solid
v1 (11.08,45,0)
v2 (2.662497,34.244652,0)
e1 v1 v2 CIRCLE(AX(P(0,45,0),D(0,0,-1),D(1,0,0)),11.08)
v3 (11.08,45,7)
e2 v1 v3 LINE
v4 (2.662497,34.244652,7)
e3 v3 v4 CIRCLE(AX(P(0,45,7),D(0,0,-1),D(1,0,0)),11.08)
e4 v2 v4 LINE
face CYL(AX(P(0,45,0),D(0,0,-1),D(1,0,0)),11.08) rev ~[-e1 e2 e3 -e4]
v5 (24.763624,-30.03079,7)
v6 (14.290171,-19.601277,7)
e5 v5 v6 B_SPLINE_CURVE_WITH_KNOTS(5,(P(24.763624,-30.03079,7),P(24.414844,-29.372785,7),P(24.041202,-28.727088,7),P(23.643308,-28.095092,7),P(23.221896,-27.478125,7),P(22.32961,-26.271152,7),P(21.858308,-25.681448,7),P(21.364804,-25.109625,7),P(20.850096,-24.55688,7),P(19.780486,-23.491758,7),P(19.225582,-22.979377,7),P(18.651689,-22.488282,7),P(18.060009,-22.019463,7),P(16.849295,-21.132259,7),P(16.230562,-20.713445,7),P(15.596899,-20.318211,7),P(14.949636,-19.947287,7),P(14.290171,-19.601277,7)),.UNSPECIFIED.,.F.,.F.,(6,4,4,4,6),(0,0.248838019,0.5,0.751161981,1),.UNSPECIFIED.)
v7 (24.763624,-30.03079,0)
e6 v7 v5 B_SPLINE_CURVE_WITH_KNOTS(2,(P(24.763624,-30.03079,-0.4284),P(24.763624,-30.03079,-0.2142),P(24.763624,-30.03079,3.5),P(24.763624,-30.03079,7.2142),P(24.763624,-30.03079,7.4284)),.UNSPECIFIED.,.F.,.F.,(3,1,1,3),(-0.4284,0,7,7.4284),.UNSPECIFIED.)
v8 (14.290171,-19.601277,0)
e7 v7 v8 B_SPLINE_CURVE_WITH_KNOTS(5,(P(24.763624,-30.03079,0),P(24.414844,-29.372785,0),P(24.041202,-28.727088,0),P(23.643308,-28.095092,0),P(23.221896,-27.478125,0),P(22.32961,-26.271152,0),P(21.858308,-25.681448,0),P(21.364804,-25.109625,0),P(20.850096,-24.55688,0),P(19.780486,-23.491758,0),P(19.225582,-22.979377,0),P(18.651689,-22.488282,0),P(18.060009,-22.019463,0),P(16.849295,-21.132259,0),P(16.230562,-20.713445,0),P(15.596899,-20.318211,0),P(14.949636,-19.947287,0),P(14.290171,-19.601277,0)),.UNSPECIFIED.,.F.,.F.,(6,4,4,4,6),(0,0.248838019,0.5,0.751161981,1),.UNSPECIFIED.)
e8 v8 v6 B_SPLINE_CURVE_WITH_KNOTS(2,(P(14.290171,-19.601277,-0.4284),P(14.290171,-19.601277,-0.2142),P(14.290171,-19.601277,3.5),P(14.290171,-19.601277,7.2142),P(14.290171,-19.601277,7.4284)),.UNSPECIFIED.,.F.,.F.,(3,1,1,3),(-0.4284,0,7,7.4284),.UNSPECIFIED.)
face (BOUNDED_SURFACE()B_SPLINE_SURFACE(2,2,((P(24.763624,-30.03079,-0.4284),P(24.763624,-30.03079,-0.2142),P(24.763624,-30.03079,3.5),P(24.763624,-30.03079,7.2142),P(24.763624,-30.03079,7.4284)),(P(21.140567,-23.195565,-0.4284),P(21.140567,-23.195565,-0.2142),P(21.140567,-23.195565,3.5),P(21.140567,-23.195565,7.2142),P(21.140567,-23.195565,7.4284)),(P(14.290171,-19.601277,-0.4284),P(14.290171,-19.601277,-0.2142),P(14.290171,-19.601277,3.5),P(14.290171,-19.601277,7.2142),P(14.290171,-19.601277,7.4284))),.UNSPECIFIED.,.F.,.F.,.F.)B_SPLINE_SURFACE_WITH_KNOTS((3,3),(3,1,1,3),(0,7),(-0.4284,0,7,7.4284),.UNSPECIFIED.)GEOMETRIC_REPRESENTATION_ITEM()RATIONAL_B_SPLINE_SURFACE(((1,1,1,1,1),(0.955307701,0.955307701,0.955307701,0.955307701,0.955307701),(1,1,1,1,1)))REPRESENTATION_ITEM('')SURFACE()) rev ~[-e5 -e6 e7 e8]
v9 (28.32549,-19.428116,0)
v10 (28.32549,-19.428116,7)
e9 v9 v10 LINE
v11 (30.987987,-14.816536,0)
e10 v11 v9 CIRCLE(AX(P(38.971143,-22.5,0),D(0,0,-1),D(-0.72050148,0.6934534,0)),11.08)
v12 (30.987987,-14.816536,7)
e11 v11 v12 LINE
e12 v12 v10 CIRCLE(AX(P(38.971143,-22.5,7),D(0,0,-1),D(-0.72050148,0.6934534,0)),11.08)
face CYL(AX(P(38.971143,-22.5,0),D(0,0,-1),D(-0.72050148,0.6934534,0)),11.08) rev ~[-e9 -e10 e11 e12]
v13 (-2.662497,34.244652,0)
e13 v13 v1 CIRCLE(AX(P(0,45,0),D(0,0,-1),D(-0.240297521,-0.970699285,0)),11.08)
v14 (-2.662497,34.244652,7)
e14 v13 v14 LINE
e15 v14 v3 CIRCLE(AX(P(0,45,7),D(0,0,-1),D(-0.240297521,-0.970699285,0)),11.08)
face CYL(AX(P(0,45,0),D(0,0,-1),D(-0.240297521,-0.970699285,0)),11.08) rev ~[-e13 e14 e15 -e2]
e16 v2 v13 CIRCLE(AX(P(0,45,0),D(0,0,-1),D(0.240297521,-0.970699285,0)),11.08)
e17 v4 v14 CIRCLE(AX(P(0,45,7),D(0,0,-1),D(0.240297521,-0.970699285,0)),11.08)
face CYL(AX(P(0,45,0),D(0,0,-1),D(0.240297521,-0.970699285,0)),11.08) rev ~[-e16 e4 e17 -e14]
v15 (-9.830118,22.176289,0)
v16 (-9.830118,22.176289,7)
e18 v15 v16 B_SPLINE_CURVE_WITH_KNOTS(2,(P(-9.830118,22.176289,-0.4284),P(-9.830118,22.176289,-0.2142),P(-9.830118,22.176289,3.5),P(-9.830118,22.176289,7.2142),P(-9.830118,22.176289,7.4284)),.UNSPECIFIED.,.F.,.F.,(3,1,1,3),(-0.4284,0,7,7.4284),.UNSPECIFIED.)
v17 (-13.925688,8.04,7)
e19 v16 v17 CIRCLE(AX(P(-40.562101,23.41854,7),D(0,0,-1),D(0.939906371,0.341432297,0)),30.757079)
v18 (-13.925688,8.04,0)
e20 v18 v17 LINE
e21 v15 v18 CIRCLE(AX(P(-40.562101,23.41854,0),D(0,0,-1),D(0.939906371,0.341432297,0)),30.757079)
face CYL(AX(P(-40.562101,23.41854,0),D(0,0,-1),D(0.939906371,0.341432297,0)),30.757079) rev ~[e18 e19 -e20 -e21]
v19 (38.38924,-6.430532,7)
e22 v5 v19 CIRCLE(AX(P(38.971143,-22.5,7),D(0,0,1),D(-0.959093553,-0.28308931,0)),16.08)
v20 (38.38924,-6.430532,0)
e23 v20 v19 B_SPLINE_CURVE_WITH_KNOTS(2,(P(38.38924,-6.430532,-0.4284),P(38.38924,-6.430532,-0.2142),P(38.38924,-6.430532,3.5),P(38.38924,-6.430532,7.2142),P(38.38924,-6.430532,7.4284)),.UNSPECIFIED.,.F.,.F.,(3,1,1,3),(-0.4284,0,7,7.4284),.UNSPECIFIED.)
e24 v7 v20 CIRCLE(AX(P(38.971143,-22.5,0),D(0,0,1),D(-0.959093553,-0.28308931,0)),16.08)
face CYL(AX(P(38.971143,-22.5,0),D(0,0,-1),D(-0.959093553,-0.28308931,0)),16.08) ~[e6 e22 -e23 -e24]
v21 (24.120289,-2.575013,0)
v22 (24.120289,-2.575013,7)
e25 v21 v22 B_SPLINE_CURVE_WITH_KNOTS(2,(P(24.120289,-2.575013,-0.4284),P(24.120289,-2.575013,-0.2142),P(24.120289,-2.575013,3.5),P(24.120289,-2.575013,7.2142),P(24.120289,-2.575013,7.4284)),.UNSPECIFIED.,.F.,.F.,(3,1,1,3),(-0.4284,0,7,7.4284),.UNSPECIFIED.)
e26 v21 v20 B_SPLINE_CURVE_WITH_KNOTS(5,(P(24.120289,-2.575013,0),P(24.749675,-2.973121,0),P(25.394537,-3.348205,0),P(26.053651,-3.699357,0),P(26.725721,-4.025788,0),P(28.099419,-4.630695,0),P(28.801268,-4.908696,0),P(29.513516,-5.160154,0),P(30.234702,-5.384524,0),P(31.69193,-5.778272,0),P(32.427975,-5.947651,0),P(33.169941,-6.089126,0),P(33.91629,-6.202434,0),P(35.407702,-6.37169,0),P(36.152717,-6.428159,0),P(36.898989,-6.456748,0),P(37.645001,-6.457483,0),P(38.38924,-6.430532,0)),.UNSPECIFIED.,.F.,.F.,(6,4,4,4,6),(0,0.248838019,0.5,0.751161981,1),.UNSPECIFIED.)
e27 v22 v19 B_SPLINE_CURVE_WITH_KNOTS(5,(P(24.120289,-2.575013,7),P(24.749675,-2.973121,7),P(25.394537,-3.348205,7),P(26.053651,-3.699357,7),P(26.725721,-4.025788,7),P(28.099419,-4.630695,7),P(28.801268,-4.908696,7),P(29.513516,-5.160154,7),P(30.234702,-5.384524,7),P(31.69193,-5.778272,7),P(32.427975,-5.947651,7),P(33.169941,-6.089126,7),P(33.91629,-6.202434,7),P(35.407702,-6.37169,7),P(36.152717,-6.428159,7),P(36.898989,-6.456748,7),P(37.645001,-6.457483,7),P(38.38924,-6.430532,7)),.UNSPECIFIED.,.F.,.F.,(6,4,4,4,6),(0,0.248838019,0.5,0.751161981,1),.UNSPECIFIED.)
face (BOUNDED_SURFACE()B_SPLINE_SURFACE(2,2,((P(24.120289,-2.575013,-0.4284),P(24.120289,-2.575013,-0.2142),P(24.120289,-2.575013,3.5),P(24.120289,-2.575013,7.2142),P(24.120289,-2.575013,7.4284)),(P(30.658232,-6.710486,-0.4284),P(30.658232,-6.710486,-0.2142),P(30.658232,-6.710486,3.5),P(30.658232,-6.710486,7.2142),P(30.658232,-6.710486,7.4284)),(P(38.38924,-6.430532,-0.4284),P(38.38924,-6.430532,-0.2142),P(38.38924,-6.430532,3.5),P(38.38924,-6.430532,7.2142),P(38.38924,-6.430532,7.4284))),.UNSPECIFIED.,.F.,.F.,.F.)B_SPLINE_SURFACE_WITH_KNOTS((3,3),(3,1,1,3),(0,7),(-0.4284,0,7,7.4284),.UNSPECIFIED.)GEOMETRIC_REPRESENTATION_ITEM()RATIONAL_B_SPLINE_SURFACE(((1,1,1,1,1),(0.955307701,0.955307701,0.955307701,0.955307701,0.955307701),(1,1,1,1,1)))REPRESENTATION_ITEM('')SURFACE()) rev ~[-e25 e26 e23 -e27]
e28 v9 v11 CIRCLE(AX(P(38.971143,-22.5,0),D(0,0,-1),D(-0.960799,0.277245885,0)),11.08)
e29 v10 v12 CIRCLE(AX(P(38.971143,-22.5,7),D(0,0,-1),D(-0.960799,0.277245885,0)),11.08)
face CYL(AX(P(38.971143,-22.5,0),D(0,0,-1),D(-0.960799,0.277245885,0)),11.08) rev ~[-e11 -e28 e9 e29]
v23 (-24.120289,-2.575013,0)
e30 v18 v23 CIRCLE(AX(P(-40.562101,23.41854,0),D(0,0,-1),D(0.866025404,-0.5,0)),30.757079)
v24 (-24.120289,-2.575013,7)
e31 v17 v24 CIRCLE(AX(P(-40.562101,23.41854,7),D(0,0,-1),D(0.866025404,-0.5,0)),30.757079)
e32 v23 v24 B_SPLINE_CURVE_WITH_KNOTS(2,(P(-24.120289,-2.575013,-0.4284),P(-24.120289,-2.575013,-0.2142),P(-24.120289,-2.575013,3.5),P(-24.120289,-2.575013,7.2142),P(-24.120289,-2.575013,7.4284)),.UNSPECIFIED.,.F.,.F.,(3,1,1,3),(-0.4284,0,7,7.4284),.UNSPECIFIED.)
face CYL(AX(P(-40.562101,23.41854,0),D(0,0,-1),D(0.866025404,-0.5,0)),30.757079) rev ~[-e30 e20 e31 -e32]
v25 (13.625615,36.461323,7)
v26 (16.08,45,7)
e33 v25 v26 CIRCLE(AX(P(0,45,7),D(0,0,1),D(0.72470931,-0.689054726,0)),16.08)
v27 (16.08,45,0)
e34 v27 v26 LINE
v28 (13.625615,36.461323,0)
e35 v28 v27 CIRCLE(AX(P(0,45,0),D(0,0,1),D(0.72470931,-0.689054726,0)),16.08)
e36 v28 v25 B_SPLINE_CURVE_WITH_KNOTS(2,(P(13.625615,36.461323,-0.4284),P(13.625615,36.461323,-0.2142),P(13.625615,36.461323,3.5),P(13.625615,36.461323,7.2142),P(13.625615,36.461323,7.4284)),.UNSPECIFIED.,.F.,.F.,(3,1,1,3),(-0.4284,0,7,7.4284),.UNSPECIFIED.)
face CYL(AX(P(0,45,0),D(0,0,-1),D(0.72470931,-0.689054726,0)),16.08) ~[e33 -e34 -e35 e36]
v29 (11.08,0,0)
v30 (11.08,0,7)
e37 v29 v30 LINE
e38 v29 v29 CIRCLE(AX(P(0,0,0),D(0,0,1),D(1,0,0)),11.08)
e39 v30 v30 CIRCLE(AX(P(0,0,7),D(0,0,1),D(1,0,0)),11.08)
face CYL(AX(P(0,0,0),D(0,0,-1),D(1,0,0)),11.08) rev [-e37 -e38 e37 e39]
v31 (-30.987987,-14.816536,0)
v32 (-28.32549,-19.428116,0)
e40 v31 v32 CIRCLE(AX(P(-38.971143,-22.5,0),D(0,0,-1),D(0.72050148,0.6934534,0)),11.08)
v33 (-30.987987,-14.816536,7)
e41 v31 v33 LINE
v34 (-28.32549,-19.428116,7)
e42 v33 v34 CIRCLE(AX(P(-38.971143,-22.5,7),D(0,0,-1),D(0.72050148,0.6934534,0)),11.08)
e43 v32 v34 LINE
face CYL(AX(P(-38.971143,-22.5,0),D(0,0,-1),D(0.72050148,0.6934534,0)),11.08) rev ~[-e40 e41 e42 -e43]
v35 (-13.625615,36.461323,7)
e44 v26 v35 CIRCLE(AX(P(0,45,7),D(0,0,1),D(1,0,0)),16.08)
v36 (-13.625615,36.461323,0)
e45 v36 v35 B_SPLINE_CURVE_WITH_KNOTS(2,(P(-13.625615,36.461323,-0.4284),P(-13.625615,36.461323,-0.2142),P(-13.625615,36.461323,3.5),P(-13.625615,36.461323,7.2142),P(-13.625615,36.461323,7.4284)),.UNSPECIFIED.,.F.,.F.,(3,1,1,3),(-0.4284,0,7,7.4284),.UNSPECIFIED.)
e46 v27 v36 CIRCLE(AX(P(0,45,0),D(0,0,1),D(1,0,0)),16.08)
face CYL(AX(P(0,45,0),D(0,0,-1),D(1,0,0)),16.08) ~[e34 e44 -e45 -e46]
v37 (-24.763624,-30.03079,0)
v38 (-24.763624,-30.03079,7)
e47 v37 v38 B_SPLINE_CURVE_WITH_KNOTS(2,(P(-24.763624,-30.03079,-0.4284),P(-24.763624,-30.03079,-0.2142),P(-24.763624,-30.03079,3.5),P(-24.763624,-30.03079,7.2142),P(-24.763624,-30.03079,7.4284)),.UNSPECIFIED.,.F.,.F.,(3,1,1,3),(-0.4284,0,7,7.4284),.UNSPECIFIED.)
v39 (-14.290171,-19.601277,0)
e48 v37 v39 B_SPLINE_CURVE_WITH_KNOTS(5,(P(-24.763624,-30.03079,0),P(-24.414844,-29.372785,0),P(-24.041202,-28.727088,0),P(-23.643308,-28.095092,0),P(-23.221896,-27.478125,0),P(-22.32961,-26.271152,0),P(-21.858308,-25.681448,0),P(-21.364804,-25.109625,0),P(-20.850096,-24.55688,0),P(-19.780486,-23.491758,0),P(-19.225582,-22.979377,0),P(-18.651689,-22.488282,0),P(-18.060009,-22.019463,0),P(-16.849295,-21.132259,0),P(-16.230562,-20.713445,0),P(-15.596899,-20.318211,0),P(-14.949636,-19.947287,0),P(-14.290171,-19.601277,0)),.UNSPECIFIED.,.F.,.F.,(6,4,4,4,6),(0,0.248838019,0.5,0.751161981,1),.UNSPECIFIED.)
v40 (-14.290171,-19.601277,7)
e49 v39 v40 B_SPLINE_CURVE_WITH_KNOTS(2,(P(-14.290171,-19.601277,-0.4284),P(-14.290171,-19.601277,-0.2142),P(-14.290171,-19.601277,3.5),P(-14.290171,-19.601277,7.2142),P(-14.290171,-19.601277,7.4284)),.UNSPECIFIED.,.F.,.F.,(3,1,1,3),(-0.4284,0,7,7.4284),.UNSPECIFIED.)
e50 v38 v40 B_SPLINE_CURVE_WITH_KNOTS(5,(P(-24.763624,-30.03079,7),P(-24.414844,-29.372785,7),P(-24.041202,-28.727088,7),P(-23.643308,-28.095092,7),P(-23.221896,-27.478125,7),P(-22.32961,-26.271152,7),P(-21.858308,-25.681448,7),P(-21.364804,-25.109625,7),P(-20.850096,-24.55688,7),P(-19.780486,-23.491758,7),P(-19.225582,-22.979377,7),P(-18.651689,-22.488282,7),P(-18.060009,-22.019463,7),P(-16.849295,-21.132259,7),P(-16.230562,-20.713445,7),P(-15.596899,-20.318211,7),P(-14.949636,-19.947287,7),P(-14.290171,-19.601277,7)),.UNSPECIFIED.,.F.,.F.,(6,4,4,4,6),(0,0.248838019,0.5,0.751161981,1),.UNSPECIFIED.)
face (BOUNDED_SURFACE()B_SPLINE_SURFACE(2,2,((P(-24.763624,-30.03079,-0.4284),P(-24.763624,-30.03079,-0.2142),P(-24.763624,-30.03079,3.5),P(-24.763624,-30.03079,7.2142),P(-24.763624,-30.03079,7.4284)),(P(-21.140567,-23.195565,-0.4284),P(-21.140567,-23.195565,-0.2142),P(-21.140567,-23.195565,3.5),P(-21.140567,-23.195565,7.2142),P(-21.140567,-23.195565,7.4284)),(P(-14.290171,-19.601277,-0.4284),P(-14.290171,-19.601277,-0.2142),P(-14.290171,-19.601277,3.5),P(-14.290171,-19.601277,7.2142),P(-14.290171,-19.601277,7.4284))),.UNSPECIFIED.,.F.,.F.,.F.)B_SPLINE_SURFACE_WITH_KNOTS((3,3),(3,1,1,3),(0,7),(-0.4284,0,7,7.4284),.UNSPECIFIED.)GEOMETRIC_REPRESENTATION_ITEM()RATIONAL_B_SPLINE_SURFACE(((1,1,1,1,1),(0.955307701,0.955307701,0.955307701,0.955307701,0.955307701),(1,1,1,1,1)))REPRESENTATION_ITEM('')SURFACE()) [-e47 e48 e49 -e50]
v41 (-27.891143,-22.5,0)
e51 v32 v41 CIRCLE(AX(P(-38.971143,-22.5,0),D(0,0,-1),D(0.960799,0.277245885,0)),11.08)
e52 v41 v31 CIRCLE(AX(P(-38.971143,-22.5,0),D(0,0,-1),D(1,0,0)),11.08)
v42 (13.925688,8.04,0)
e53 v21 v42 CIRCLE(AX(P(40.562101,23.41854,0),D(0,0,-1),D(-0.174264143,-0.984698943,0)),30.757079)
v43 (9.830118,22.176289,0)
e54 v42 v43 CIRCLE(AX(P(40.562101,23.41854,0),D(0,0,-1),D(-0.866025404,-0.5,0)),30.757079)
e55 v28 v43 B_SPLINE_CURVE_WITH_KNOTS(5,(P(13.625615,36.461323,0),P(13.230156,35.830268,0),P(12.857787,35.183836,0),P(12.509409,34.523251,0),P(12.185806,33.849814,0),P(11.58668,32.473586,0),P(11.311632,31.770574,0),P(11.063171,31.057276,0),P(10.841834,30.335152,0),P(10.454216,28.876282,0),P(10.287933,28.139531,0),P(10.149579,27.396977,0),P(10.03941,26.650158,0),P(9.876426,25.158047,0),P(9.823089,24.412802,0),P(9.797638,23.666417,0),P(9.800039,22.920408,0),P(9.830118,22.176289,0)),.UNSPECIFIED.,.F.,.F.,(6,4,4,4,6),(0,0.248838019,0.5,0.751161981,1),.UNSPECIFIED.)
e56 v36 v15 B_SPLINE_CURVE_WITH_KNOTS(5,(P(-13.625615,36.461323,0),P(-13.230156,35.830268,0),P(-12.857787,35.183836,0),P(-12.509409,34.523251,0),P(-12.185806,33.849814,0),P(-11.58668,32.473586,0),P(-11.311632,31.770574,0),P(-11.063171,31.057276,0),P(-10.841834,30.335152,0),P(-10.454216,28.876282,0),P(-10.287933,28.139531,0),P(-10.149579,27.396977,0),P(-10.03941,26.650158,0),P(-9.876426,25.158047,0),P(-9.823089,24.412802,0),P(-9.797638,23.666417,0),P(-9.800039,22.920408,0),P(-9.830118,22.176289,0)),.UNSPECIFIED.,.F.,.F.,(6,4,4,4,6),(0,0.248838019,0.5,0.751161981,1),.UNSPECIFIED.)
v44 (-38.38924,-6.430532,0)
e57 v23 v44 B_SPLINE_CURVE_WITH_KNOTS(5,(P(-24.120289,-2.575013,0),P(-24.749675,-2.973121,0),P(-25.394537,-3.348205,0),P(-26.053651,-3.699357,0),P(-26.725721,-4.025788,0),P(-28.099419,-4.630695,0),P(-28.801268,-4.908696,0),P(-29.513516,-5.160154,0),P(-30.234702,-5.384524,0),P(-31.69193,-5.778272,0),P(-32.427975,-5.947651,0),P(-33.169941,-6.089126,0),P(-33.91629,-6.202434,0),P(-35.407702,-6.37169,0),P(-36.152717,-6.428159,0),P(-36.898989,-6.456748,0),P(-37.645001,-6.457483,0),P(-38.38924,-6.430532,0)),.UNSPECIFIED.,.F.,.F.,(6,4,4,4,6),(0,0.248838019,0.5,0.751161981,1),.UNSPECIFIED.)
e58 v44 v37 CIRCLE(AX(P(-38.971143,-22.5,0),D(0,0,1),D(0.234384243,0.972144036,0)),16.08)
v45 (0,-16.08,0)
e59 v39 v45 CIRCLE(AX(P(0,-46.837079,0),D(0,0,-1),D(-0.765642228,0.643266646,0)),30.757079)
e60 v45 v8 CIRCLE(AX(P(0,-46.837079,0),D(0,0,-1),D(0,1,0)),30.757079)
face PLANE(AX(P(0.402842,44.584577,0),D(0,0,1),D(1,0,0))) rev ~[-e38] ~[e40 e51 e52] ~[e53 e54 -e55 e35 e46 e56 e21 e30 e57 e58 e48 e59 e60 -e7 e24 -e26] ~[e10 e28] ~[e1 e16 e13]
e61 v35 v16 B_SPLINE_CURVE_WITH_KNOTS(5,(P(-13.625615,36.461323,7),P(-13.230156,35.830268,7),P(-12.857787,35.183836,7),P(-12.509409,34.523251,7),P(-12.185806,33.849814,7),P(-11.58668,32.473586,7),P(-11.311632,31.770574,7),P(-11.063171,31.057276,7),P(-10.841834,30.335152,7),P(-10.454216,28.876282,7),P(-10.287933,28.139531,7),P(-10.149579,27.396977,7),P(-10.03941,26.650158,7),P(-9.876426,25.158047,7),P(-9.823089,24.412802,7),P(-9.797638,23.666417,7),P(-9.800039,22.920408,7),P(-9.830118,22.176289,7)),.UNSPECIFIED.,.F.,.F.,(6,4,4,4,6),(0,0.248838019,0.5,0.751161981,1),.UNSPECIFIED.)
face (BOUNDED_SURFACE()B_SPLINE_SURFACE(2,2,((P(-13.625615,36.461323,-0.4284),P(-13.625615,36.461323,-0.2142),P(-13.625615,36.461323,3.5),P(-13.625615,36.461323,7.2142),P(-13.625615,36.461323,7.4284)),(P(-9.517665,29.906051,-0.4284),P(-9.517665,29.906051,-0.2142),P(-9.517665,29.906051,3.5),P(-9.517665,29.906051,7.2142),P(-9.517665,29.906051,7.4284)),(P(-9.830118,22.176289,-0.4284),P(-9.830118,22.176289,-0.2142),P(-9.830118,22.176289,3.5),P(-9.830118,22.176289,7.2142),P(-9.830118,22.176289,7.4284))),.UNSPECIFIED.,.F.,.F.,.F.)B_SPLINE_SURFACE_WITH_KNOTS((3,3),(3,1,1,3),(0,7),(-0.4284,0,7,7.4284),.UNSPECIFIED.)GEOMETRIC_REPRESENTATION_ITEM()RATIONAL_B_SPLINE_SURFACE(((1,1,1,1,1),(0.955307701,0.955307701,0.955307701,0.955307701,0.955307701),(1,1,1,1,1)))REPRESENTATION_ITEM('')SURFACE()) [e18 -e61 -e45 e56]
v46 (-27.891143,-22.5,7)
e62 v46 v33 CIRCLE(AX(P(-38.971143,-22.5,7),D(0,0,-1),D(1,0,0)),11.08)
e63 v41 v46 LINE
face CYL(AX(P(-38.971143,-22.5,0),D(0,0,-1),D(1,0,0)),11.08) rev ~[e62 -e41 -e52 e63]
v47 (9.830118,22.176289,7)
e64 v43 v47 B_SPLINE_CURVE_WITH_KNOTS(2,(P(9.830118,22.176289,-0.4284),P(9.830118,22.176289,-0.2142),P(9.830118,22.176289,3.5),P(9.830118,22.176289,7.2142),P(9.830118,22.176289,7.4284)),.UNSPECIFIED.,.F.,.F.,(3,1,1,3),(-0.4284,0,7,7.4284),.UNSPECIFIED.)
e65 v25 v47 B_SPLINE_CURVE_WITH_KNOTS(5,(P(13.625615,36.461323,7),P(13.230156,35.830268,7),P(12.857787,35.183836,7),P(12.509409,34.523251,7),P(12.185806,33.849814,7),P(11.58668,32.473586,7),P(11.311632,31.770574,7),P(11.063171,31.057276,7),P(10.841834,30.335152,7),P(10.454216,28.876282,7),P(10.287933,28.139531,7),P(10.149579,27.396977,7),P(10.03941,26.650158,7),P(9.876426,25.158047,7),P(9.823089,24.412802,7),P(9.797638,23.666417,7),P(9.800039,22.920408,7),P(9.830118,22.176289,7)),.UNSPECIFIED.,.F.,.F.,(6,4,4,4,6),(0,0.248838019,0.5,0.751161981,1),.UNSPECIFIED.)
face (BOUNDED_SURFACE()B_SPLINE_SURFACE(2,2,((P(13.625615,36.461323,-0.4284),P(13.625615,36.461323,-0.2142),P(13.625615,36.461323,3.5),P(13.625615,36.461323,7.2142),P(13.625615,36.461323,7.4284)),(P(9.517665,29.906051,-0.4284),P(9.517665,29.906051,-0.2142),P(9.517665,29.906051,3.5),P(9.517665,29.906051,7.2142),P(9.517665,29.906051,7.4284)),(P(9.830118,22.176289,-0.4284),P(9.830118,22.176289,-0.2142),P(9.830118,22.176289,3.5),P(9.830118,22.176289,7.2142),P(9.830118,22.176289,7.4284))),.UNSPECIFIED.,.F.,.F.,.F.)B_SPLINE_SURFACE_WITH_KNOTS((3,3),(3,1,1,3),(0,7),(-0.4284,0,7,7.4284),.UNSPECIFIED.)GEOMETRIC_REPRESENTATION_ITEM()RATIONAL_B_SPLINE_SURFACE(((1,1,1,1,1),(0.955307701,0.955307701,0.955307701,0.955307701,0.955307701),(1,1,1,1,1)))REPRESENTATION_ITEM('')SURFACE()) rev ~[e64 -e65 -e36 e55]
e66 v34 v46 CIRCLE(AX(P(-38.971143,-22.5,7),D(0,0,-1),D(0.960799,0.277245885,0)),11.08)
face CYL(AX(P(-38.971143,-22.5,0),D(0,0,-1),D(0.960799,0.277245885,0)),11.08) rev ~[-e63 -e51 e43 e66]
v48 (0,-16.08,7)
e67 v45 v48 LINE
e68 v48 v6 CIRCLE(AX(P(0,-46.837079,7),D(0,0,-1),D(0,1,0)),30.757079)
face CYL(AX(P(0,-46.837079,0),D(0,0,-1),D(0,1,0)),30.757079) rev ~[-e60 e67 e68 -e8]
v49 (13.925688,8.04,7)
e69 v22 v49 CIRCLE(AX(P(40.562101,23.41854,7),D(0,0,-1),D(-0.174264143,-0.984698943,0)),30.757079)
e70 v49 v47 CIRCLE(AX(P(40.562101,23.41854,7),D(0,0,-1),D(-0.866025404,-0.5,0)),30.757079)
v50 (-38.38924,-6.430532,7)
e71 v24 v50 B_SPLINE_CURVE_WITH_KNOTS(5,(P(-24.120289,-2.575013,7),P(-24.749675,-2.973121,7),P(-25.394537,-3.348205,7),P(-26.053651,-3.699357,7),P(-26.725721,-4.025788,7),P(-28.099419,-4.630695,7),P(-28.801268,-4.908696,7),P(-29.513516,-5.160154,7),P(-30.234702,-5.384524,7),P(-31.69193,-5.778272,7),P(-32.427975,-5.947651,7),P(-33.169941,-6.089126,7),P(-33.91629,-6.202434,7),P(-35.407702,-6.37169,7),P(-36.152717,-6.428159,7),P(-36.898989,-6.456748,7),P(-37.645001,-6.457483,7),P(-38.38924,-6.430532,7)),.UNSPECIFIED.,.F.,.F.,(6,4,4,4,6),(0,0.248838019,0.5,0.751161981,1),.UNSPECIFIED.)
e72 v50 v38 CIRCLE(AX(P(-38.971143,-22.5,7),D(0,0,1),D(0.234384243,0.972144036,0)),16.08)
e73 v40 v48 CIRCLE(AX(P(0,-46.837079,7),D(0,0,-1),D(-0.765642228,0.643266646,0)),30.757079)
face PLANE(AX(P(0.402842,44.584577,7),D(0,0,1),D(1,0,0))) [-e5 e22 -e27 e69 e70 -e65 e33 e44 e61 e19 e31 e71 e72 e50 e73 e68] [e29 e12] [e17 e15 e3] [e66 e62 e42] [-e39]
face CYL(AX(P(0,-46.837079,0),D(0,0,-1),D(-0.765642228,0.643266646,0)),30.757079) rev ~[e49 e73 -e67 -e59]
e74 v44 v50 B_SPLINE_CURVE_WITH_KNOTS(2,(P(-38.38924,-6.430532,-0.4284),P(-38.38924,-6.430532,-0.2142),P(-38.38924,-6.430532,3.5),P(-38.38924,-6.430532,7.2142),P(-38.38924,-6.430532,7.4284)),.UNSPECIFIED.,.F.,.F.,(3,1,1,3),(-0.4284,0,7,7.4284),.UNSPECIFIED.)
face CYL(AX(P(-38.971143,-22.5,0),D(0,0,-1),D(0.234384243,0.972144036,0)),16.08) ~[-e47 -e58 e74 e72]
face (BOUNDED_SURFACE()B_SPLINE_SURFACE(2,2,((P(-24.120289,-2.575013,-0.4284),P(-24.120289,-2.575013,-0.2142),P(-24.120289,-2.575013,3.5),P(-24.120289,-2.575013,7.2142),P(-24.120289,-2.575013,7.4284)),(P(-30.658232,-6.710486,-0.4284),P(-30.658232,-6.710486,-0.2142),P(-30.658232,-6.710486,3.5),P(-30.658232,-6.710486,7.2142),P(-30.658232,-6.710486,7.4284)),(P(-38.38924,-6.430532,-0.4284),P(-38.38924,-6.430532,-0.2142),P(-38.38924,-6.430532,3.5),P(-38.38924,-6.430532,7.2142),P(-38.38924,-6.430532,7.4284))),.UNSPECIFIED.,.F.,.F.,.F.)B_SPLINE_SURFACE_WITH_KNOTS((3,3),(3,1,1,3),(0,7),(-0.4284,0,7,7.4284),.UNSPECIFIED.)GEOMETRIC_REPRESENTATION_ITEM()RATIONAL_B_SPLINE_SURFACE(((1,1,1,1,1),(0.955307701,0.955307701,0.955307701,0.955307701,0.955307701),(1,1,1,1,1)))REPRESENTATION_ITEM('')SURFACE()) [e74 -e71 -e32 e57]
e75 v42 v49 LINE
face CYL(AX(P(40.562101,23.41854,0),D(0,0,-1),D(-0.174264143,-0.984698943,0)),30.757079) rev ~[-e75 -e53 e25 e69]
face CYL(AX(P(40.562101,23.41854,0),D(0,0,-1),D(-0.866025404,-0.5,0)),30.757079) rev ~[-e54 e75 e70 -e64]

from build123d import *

# Parameters (mm, degrees)
F0_R     = 11.08
F1_DEPTH = 7
F2_R     = 25


with BuildPart() as f1:
    # F0 (on Top) → F1 (new body)
    with BuildSketch(Plane.XY):
        with BuildLine():
            ThreePointArc((2.6624965293, 34.2446519242), (3.3990862891, 31.8515325068), (4.1848381854, 29.4741013348))
            ThreePointArc((4.1848381854, 29.4741013348), (8.2251664175, 31.1828715934), (11.6533257056, 33.92))
            ThreePointArc((11.6533257056, 33.92), (14.9323788685, 39.0342258401), (16.08, 45))
            ThreePointArc((16.08, 45), (-5.9657741599, 59.9323788685), (-11.6533257056, 33.92))
            ThreePointArc((-11.6533257056, 33.92), (-8.2251664175, 31.1828715934), (-4.1848381854, 29.4741013348))
            ThreePointArc((-4.1848381854, 29.4741013348), (-3.3990862891, 31.8515325068), (-2.6624965293, 34.2446519242))
            ThreePointArc((-2.6624965293, 34.2446519242), (-6.8288336653, 53.7254473107), (11.08, 45))
            ThreePointArc((11.08, 45), (8.7254473107, 38.1711663347), (2.6624965293, 34.2446519242))
        make_face()
        with BuildLine():
            ThreePointArc((-11.6533257056, 33.92), (-9.9229010426, 20.728301046), (-13.9256884929, 8.04))
            ThreePointArc((-13.9256884929, 8.04), (-8.5348333079, 18.5205382543), (-4.1848381854, 29.4741013348))
            ThreePointArc((-4.1848381854, 29.4741013348), (-8.2251664175, 31.1828715934), (-11.6533257056, 33.92))
        make_face()
        with BuildLine():
            ThreePointArc((-4.1848381854, 29.4741013348), (0, 28.92), (4.1848381854, 29.4741013348))
            ThreePointArc((4.1848381854, 29.4741013348), (3.3990862891, 31.8515325068), (2.6624965293, 34.2446519242))
            ThreePointArc((2.6624965293, 34.2446519242), (0, 33.92), (-2.6624965293, 34.2446519242))
            ThreePointArc((-2.6624965293, 34.2446519242), (-3.3990862891, 31.8515325068), (-4.1848381854, 29.4741013348))
        make_face()
        with BuildLine():
            ThreePointArc((-13.9256884929, 8.04), (0, 16.08), (13.9256884929, 8.04))
            ThreePointArc((13.9256884929, 8.04), (8.5348333079, 18.5205382543), (4.1848381854, 29.4741013348))
            ThreePointArc((4.1848381854, 29.4741013348), (0, 28.92), (-4.1848381854, 29.4741013348))
            ThreePointArc((-4.1848381854, 29.4741013348), (-8.5348333079, 18.5205382543), (-13.9256884929, 8.04))
        make_face()
        with BuildLine():
            ThreePointArc((4.1848381854, 29.4741013348), (8.5348333079, 18.5205382543), (13.9256884929, 8.04))
            ThreePointArc((13.9256884929, 8.04), (9.9229010426, 20.728301046), (11.6533257056, 33.92))
            ThreePointArc((11.6533257056, 33.92), (8.2251664175, 31.1828715934), (4.1848381854, 29.4741013348))
        make_face()
        with BuildLine():
            ThreePointArc((-22.8911431703, -22.5), (-23.0271579816, -20.4129599182), (-23.4329014169, -18.3612268467))
            ThreePointArc((-23.4329014169, -18.3612268467), (-25.8846931558, -18.8694613295), (-28.3254902455, -19.4281155939))
            ThreePointArc((-28.3254902455, -19.4281155939), (-28.0002673072, -20.948780223), (-27.8911431703, -22.5))
            ThreePointArc((-27.8911431703, -22.5), (-49.247810258, -26.6420421978), (-30.9879867747, -14.8165363303))
            ThreePointArc((-30.9879867747, -14.8165363303), (-29.2837794449, -12.9820711774), (-27.6177396024, -11.1128744881))
            ThreePointArc((-27.6177396024, -11.1128744881), (-31.1177421715, -8.4682327288), (-35.2022445492, -6.8679239004))
            ThreePointArc((-35.2022445492, -6.8679239004), (-52.8968316632, -30.54), (-23.5489188436, -27.0520760996))
            ThreePointArc((-23.5489188436, -27.0520760996), (-23.0564366513, -24.7996774585), (-22.8911431703, -22.5))
        make_face()
        with BuildLine():
            ThreePointArc((-28.3254902455, -19.4281155939), (-25.8846931558, -18.8694613295), (-23.4329014169, -18.3612268467))
            ThreePointArc((-23.4329014169, -18.3612268467), (-25.0454546774, -14.46), (-27.6177396024, -11.1128744881))
            ThreePointArc((-27.6177396024, -11.1128744881), (-29.2837794449, -12.9820711774), (-30.9879867747, -14.8165363303))
            ThreePointArc((-30.9879867747, -14.8165363303), (-29.3755816964, -16.96), (-28.3254902455, -19.4281155939))
        make_face()
        with BuildLine():
            ThreePointArc((-27.6177396024, -11.1128744881), (-20.3066732739, -1.8688866654), (-13.9256884929, 8.04))
            ThreePointArc((-13.9256884929, 8.04), (-22.9126858044, -1.7706661409), (-35.2022445492, -6.8679239004))
            ThreePointArc((-35.2022445492, -6.8679239004), (-31.1177421715, -8.4682327288), (-27.6177396024, -11.1128744881))
        make_face()
        with BuildLine():
            ThreePointArc((-23.4329014169, -18.3612268467), (-11.771839966, -16.6516515888), (0, -16.08))
            ThreePointArc((0, -16.08), (-13.9256884929, -8.04), (-13.9256884929, 8.04))
            ThreePointArc((-13.9256884929, 8.04), (-20.3066732739, -1.8688866654), (-27.6177396024, -11.1128744881))
            ThreePointArc((-27.6177396024, -11.1128744881), (-25.0454546774, -14.46), (-23.4329014169, -18.3612268467))
        make_face()
        with BuildLine():
            ThreePointArc((-23.5489188436, -27.0520760996), (-12.9897847619, -18.9576349051), (0, -16.08))
            ThreePointArc((0, -16.08), (-11.771839966, -16.6516515888), (-23.4329014169, -18.3612268467))
            ThreePointArc((-23.4329014169, -18.3612268467), (-23.0271579816, -20.4129599182), (-22.8911431703, -22.5))
            ThreePointArc((-22.8911431703, -22.5), (-23.0564366513, -24.7996774585), (-23.5489188436, -27.0520760996))
        make_face()
        with BuildLine():
            ThreePointArc((13.9256884929, 8.04), (15.5320872867, 4.1618102452), (16.08, 0))
            ThreePointArc((16.08, 0), (11.3702770415, -11.3702770415), (0, -16.08))
            ThreePointArc((0, -16.08), (11.771839966, -16.6516515888), (23.4329014169, -18.3612268467))
            ThreePointArc((23.4329014169, -18.3612268467), (25.0454546774, -14.46), (27.6177396024, -11.1128744881))
            ThreePointArc((27.6177396024, -11.1128744881), (20.3066732739, -1.8688866654), (13.9256884929, 8.04))
        make_face()
        with BuildLine():
            ThreePointArc((23.4329014169, -18.3612268467), (11.771839966, -16.6516515888), (0, -16.08))
            ThreePointArc((0, -16.08), (12.9897847619, -18.9576349051), (23.5489188436, -27.0520760996))
            ThreePointArc((23.5489188436, -27.0520760996), (22.8925757541, -22.7146388646), (23.4329014169, -18.3612268467))
        make_face()
        with BuildLine():
            ThreePointArc((35.2022445492, -6.8679239004), (22.9126858044, -1.7706661409), (13.9256884929, 8.04))
            ThreePointArc((13.9256884929, 8.04), (20.3066732739, -1.8688866654), (27.6177396024, -11.1128744881))
            ThreePointArc((27.6177396024, -11.1128744881), (31.1177421715, -8.4682327288), (35.2022445492, -6.8679239004))
        make_face()
        with BuildLine():
            ThreePointArc((35.2022445492, -6.8679239004), (31.1177421715, -8.4682327288), (27.6177396024, -11.1128744881))
            ThreePointArc((27.6177396024, -11.1128744881), (29.2837794449, -12.9820711774), (30.9879867747, -14.8165363303))
            ThreePointArc((30.9879867747, -14.8165363303), (43.1131853681, -12.2233329123), (50.0511431703, -22.5))
            ThreePointArc((50.0511431703, -22.5), (37.4199233933, -33.4708758631), (28.3254902455, -19.4281155939))
            ThreePointArc((28.3254902455, -19.4281155939), (25.8846931558, -18.8694613295), (23.4329014169, -18.3612268467))
            ThreePointArc((23.4329014169, -18.3612268467), (22.8925757541, -22.7146388646), (23.5489188436, -27.0520760996))
            ThreePointArc((23.5489188436, -27.0520760996), (41.2708206288, -38.414706519), (55.0511431703, -22.5))
            ThreePointArc((55.0511431703, -22.5), (48.9200755294, -9.86729859), (35.2022445492, -6.8679239004))
        make_face()
        with BuildLine():
            ThreePointArc((30.9879867747, -14.8165363303), (29.2837794449, -12.9820711774), (27.6177396024, -11.1128744881))
            ThreePointArc((27.6177396024, -11.1128744881), (25.0454546774, -14.46), (23.4329014169, -18.3612268467))
            ThreePointArc((23.4329014169, -18.3612268467), (25.8846931558, -18.8694613295), (28.3254902455, -19.4281155939))
            ThreePointArc((28.3254902455, -19.4281155939), (29.3755816964, -16.96), (30.9879867747, -14.8165363303))
        make_face()
        with BuildLine():
            ThreePointArc((0, -16.08), (11.3702770415, -11.3702770415), (16.08, 0))
            ThreePointArc((16.08, 0), (15.5320872867, 4.1618102452), (13.9256884929, 8.04))
            ThreePointArc((13.9256884929, 8.04), (0, 16.08), (-13.9256884929, 8.04))
            ThreePointArc((-13.9256884929, 8.04), (-13.9256884929, -8.04), (0, -16.08))
        make_face()
        Circle(F0_R, mode=Mode.SUBTRACT)
    extrude(amount=F1_DEPTH)

    # F2
    f2_edges = [f1.edges().sort_by_distance(p)[0] for p in [
        (11.653326, 33.92, 3.5),
        (-11.653326, 33.92, 3.5),
        (35.202245, -6.867924, 3.5),
        (23.548919, -27.052076, 3.5),
        (-23.548919, -27.052076, 3.5),
        (-35.202245, -6.867924, 3.5),
    ]]
    fillet(f2_edges, radius=F2_R)


solid = f1.part
